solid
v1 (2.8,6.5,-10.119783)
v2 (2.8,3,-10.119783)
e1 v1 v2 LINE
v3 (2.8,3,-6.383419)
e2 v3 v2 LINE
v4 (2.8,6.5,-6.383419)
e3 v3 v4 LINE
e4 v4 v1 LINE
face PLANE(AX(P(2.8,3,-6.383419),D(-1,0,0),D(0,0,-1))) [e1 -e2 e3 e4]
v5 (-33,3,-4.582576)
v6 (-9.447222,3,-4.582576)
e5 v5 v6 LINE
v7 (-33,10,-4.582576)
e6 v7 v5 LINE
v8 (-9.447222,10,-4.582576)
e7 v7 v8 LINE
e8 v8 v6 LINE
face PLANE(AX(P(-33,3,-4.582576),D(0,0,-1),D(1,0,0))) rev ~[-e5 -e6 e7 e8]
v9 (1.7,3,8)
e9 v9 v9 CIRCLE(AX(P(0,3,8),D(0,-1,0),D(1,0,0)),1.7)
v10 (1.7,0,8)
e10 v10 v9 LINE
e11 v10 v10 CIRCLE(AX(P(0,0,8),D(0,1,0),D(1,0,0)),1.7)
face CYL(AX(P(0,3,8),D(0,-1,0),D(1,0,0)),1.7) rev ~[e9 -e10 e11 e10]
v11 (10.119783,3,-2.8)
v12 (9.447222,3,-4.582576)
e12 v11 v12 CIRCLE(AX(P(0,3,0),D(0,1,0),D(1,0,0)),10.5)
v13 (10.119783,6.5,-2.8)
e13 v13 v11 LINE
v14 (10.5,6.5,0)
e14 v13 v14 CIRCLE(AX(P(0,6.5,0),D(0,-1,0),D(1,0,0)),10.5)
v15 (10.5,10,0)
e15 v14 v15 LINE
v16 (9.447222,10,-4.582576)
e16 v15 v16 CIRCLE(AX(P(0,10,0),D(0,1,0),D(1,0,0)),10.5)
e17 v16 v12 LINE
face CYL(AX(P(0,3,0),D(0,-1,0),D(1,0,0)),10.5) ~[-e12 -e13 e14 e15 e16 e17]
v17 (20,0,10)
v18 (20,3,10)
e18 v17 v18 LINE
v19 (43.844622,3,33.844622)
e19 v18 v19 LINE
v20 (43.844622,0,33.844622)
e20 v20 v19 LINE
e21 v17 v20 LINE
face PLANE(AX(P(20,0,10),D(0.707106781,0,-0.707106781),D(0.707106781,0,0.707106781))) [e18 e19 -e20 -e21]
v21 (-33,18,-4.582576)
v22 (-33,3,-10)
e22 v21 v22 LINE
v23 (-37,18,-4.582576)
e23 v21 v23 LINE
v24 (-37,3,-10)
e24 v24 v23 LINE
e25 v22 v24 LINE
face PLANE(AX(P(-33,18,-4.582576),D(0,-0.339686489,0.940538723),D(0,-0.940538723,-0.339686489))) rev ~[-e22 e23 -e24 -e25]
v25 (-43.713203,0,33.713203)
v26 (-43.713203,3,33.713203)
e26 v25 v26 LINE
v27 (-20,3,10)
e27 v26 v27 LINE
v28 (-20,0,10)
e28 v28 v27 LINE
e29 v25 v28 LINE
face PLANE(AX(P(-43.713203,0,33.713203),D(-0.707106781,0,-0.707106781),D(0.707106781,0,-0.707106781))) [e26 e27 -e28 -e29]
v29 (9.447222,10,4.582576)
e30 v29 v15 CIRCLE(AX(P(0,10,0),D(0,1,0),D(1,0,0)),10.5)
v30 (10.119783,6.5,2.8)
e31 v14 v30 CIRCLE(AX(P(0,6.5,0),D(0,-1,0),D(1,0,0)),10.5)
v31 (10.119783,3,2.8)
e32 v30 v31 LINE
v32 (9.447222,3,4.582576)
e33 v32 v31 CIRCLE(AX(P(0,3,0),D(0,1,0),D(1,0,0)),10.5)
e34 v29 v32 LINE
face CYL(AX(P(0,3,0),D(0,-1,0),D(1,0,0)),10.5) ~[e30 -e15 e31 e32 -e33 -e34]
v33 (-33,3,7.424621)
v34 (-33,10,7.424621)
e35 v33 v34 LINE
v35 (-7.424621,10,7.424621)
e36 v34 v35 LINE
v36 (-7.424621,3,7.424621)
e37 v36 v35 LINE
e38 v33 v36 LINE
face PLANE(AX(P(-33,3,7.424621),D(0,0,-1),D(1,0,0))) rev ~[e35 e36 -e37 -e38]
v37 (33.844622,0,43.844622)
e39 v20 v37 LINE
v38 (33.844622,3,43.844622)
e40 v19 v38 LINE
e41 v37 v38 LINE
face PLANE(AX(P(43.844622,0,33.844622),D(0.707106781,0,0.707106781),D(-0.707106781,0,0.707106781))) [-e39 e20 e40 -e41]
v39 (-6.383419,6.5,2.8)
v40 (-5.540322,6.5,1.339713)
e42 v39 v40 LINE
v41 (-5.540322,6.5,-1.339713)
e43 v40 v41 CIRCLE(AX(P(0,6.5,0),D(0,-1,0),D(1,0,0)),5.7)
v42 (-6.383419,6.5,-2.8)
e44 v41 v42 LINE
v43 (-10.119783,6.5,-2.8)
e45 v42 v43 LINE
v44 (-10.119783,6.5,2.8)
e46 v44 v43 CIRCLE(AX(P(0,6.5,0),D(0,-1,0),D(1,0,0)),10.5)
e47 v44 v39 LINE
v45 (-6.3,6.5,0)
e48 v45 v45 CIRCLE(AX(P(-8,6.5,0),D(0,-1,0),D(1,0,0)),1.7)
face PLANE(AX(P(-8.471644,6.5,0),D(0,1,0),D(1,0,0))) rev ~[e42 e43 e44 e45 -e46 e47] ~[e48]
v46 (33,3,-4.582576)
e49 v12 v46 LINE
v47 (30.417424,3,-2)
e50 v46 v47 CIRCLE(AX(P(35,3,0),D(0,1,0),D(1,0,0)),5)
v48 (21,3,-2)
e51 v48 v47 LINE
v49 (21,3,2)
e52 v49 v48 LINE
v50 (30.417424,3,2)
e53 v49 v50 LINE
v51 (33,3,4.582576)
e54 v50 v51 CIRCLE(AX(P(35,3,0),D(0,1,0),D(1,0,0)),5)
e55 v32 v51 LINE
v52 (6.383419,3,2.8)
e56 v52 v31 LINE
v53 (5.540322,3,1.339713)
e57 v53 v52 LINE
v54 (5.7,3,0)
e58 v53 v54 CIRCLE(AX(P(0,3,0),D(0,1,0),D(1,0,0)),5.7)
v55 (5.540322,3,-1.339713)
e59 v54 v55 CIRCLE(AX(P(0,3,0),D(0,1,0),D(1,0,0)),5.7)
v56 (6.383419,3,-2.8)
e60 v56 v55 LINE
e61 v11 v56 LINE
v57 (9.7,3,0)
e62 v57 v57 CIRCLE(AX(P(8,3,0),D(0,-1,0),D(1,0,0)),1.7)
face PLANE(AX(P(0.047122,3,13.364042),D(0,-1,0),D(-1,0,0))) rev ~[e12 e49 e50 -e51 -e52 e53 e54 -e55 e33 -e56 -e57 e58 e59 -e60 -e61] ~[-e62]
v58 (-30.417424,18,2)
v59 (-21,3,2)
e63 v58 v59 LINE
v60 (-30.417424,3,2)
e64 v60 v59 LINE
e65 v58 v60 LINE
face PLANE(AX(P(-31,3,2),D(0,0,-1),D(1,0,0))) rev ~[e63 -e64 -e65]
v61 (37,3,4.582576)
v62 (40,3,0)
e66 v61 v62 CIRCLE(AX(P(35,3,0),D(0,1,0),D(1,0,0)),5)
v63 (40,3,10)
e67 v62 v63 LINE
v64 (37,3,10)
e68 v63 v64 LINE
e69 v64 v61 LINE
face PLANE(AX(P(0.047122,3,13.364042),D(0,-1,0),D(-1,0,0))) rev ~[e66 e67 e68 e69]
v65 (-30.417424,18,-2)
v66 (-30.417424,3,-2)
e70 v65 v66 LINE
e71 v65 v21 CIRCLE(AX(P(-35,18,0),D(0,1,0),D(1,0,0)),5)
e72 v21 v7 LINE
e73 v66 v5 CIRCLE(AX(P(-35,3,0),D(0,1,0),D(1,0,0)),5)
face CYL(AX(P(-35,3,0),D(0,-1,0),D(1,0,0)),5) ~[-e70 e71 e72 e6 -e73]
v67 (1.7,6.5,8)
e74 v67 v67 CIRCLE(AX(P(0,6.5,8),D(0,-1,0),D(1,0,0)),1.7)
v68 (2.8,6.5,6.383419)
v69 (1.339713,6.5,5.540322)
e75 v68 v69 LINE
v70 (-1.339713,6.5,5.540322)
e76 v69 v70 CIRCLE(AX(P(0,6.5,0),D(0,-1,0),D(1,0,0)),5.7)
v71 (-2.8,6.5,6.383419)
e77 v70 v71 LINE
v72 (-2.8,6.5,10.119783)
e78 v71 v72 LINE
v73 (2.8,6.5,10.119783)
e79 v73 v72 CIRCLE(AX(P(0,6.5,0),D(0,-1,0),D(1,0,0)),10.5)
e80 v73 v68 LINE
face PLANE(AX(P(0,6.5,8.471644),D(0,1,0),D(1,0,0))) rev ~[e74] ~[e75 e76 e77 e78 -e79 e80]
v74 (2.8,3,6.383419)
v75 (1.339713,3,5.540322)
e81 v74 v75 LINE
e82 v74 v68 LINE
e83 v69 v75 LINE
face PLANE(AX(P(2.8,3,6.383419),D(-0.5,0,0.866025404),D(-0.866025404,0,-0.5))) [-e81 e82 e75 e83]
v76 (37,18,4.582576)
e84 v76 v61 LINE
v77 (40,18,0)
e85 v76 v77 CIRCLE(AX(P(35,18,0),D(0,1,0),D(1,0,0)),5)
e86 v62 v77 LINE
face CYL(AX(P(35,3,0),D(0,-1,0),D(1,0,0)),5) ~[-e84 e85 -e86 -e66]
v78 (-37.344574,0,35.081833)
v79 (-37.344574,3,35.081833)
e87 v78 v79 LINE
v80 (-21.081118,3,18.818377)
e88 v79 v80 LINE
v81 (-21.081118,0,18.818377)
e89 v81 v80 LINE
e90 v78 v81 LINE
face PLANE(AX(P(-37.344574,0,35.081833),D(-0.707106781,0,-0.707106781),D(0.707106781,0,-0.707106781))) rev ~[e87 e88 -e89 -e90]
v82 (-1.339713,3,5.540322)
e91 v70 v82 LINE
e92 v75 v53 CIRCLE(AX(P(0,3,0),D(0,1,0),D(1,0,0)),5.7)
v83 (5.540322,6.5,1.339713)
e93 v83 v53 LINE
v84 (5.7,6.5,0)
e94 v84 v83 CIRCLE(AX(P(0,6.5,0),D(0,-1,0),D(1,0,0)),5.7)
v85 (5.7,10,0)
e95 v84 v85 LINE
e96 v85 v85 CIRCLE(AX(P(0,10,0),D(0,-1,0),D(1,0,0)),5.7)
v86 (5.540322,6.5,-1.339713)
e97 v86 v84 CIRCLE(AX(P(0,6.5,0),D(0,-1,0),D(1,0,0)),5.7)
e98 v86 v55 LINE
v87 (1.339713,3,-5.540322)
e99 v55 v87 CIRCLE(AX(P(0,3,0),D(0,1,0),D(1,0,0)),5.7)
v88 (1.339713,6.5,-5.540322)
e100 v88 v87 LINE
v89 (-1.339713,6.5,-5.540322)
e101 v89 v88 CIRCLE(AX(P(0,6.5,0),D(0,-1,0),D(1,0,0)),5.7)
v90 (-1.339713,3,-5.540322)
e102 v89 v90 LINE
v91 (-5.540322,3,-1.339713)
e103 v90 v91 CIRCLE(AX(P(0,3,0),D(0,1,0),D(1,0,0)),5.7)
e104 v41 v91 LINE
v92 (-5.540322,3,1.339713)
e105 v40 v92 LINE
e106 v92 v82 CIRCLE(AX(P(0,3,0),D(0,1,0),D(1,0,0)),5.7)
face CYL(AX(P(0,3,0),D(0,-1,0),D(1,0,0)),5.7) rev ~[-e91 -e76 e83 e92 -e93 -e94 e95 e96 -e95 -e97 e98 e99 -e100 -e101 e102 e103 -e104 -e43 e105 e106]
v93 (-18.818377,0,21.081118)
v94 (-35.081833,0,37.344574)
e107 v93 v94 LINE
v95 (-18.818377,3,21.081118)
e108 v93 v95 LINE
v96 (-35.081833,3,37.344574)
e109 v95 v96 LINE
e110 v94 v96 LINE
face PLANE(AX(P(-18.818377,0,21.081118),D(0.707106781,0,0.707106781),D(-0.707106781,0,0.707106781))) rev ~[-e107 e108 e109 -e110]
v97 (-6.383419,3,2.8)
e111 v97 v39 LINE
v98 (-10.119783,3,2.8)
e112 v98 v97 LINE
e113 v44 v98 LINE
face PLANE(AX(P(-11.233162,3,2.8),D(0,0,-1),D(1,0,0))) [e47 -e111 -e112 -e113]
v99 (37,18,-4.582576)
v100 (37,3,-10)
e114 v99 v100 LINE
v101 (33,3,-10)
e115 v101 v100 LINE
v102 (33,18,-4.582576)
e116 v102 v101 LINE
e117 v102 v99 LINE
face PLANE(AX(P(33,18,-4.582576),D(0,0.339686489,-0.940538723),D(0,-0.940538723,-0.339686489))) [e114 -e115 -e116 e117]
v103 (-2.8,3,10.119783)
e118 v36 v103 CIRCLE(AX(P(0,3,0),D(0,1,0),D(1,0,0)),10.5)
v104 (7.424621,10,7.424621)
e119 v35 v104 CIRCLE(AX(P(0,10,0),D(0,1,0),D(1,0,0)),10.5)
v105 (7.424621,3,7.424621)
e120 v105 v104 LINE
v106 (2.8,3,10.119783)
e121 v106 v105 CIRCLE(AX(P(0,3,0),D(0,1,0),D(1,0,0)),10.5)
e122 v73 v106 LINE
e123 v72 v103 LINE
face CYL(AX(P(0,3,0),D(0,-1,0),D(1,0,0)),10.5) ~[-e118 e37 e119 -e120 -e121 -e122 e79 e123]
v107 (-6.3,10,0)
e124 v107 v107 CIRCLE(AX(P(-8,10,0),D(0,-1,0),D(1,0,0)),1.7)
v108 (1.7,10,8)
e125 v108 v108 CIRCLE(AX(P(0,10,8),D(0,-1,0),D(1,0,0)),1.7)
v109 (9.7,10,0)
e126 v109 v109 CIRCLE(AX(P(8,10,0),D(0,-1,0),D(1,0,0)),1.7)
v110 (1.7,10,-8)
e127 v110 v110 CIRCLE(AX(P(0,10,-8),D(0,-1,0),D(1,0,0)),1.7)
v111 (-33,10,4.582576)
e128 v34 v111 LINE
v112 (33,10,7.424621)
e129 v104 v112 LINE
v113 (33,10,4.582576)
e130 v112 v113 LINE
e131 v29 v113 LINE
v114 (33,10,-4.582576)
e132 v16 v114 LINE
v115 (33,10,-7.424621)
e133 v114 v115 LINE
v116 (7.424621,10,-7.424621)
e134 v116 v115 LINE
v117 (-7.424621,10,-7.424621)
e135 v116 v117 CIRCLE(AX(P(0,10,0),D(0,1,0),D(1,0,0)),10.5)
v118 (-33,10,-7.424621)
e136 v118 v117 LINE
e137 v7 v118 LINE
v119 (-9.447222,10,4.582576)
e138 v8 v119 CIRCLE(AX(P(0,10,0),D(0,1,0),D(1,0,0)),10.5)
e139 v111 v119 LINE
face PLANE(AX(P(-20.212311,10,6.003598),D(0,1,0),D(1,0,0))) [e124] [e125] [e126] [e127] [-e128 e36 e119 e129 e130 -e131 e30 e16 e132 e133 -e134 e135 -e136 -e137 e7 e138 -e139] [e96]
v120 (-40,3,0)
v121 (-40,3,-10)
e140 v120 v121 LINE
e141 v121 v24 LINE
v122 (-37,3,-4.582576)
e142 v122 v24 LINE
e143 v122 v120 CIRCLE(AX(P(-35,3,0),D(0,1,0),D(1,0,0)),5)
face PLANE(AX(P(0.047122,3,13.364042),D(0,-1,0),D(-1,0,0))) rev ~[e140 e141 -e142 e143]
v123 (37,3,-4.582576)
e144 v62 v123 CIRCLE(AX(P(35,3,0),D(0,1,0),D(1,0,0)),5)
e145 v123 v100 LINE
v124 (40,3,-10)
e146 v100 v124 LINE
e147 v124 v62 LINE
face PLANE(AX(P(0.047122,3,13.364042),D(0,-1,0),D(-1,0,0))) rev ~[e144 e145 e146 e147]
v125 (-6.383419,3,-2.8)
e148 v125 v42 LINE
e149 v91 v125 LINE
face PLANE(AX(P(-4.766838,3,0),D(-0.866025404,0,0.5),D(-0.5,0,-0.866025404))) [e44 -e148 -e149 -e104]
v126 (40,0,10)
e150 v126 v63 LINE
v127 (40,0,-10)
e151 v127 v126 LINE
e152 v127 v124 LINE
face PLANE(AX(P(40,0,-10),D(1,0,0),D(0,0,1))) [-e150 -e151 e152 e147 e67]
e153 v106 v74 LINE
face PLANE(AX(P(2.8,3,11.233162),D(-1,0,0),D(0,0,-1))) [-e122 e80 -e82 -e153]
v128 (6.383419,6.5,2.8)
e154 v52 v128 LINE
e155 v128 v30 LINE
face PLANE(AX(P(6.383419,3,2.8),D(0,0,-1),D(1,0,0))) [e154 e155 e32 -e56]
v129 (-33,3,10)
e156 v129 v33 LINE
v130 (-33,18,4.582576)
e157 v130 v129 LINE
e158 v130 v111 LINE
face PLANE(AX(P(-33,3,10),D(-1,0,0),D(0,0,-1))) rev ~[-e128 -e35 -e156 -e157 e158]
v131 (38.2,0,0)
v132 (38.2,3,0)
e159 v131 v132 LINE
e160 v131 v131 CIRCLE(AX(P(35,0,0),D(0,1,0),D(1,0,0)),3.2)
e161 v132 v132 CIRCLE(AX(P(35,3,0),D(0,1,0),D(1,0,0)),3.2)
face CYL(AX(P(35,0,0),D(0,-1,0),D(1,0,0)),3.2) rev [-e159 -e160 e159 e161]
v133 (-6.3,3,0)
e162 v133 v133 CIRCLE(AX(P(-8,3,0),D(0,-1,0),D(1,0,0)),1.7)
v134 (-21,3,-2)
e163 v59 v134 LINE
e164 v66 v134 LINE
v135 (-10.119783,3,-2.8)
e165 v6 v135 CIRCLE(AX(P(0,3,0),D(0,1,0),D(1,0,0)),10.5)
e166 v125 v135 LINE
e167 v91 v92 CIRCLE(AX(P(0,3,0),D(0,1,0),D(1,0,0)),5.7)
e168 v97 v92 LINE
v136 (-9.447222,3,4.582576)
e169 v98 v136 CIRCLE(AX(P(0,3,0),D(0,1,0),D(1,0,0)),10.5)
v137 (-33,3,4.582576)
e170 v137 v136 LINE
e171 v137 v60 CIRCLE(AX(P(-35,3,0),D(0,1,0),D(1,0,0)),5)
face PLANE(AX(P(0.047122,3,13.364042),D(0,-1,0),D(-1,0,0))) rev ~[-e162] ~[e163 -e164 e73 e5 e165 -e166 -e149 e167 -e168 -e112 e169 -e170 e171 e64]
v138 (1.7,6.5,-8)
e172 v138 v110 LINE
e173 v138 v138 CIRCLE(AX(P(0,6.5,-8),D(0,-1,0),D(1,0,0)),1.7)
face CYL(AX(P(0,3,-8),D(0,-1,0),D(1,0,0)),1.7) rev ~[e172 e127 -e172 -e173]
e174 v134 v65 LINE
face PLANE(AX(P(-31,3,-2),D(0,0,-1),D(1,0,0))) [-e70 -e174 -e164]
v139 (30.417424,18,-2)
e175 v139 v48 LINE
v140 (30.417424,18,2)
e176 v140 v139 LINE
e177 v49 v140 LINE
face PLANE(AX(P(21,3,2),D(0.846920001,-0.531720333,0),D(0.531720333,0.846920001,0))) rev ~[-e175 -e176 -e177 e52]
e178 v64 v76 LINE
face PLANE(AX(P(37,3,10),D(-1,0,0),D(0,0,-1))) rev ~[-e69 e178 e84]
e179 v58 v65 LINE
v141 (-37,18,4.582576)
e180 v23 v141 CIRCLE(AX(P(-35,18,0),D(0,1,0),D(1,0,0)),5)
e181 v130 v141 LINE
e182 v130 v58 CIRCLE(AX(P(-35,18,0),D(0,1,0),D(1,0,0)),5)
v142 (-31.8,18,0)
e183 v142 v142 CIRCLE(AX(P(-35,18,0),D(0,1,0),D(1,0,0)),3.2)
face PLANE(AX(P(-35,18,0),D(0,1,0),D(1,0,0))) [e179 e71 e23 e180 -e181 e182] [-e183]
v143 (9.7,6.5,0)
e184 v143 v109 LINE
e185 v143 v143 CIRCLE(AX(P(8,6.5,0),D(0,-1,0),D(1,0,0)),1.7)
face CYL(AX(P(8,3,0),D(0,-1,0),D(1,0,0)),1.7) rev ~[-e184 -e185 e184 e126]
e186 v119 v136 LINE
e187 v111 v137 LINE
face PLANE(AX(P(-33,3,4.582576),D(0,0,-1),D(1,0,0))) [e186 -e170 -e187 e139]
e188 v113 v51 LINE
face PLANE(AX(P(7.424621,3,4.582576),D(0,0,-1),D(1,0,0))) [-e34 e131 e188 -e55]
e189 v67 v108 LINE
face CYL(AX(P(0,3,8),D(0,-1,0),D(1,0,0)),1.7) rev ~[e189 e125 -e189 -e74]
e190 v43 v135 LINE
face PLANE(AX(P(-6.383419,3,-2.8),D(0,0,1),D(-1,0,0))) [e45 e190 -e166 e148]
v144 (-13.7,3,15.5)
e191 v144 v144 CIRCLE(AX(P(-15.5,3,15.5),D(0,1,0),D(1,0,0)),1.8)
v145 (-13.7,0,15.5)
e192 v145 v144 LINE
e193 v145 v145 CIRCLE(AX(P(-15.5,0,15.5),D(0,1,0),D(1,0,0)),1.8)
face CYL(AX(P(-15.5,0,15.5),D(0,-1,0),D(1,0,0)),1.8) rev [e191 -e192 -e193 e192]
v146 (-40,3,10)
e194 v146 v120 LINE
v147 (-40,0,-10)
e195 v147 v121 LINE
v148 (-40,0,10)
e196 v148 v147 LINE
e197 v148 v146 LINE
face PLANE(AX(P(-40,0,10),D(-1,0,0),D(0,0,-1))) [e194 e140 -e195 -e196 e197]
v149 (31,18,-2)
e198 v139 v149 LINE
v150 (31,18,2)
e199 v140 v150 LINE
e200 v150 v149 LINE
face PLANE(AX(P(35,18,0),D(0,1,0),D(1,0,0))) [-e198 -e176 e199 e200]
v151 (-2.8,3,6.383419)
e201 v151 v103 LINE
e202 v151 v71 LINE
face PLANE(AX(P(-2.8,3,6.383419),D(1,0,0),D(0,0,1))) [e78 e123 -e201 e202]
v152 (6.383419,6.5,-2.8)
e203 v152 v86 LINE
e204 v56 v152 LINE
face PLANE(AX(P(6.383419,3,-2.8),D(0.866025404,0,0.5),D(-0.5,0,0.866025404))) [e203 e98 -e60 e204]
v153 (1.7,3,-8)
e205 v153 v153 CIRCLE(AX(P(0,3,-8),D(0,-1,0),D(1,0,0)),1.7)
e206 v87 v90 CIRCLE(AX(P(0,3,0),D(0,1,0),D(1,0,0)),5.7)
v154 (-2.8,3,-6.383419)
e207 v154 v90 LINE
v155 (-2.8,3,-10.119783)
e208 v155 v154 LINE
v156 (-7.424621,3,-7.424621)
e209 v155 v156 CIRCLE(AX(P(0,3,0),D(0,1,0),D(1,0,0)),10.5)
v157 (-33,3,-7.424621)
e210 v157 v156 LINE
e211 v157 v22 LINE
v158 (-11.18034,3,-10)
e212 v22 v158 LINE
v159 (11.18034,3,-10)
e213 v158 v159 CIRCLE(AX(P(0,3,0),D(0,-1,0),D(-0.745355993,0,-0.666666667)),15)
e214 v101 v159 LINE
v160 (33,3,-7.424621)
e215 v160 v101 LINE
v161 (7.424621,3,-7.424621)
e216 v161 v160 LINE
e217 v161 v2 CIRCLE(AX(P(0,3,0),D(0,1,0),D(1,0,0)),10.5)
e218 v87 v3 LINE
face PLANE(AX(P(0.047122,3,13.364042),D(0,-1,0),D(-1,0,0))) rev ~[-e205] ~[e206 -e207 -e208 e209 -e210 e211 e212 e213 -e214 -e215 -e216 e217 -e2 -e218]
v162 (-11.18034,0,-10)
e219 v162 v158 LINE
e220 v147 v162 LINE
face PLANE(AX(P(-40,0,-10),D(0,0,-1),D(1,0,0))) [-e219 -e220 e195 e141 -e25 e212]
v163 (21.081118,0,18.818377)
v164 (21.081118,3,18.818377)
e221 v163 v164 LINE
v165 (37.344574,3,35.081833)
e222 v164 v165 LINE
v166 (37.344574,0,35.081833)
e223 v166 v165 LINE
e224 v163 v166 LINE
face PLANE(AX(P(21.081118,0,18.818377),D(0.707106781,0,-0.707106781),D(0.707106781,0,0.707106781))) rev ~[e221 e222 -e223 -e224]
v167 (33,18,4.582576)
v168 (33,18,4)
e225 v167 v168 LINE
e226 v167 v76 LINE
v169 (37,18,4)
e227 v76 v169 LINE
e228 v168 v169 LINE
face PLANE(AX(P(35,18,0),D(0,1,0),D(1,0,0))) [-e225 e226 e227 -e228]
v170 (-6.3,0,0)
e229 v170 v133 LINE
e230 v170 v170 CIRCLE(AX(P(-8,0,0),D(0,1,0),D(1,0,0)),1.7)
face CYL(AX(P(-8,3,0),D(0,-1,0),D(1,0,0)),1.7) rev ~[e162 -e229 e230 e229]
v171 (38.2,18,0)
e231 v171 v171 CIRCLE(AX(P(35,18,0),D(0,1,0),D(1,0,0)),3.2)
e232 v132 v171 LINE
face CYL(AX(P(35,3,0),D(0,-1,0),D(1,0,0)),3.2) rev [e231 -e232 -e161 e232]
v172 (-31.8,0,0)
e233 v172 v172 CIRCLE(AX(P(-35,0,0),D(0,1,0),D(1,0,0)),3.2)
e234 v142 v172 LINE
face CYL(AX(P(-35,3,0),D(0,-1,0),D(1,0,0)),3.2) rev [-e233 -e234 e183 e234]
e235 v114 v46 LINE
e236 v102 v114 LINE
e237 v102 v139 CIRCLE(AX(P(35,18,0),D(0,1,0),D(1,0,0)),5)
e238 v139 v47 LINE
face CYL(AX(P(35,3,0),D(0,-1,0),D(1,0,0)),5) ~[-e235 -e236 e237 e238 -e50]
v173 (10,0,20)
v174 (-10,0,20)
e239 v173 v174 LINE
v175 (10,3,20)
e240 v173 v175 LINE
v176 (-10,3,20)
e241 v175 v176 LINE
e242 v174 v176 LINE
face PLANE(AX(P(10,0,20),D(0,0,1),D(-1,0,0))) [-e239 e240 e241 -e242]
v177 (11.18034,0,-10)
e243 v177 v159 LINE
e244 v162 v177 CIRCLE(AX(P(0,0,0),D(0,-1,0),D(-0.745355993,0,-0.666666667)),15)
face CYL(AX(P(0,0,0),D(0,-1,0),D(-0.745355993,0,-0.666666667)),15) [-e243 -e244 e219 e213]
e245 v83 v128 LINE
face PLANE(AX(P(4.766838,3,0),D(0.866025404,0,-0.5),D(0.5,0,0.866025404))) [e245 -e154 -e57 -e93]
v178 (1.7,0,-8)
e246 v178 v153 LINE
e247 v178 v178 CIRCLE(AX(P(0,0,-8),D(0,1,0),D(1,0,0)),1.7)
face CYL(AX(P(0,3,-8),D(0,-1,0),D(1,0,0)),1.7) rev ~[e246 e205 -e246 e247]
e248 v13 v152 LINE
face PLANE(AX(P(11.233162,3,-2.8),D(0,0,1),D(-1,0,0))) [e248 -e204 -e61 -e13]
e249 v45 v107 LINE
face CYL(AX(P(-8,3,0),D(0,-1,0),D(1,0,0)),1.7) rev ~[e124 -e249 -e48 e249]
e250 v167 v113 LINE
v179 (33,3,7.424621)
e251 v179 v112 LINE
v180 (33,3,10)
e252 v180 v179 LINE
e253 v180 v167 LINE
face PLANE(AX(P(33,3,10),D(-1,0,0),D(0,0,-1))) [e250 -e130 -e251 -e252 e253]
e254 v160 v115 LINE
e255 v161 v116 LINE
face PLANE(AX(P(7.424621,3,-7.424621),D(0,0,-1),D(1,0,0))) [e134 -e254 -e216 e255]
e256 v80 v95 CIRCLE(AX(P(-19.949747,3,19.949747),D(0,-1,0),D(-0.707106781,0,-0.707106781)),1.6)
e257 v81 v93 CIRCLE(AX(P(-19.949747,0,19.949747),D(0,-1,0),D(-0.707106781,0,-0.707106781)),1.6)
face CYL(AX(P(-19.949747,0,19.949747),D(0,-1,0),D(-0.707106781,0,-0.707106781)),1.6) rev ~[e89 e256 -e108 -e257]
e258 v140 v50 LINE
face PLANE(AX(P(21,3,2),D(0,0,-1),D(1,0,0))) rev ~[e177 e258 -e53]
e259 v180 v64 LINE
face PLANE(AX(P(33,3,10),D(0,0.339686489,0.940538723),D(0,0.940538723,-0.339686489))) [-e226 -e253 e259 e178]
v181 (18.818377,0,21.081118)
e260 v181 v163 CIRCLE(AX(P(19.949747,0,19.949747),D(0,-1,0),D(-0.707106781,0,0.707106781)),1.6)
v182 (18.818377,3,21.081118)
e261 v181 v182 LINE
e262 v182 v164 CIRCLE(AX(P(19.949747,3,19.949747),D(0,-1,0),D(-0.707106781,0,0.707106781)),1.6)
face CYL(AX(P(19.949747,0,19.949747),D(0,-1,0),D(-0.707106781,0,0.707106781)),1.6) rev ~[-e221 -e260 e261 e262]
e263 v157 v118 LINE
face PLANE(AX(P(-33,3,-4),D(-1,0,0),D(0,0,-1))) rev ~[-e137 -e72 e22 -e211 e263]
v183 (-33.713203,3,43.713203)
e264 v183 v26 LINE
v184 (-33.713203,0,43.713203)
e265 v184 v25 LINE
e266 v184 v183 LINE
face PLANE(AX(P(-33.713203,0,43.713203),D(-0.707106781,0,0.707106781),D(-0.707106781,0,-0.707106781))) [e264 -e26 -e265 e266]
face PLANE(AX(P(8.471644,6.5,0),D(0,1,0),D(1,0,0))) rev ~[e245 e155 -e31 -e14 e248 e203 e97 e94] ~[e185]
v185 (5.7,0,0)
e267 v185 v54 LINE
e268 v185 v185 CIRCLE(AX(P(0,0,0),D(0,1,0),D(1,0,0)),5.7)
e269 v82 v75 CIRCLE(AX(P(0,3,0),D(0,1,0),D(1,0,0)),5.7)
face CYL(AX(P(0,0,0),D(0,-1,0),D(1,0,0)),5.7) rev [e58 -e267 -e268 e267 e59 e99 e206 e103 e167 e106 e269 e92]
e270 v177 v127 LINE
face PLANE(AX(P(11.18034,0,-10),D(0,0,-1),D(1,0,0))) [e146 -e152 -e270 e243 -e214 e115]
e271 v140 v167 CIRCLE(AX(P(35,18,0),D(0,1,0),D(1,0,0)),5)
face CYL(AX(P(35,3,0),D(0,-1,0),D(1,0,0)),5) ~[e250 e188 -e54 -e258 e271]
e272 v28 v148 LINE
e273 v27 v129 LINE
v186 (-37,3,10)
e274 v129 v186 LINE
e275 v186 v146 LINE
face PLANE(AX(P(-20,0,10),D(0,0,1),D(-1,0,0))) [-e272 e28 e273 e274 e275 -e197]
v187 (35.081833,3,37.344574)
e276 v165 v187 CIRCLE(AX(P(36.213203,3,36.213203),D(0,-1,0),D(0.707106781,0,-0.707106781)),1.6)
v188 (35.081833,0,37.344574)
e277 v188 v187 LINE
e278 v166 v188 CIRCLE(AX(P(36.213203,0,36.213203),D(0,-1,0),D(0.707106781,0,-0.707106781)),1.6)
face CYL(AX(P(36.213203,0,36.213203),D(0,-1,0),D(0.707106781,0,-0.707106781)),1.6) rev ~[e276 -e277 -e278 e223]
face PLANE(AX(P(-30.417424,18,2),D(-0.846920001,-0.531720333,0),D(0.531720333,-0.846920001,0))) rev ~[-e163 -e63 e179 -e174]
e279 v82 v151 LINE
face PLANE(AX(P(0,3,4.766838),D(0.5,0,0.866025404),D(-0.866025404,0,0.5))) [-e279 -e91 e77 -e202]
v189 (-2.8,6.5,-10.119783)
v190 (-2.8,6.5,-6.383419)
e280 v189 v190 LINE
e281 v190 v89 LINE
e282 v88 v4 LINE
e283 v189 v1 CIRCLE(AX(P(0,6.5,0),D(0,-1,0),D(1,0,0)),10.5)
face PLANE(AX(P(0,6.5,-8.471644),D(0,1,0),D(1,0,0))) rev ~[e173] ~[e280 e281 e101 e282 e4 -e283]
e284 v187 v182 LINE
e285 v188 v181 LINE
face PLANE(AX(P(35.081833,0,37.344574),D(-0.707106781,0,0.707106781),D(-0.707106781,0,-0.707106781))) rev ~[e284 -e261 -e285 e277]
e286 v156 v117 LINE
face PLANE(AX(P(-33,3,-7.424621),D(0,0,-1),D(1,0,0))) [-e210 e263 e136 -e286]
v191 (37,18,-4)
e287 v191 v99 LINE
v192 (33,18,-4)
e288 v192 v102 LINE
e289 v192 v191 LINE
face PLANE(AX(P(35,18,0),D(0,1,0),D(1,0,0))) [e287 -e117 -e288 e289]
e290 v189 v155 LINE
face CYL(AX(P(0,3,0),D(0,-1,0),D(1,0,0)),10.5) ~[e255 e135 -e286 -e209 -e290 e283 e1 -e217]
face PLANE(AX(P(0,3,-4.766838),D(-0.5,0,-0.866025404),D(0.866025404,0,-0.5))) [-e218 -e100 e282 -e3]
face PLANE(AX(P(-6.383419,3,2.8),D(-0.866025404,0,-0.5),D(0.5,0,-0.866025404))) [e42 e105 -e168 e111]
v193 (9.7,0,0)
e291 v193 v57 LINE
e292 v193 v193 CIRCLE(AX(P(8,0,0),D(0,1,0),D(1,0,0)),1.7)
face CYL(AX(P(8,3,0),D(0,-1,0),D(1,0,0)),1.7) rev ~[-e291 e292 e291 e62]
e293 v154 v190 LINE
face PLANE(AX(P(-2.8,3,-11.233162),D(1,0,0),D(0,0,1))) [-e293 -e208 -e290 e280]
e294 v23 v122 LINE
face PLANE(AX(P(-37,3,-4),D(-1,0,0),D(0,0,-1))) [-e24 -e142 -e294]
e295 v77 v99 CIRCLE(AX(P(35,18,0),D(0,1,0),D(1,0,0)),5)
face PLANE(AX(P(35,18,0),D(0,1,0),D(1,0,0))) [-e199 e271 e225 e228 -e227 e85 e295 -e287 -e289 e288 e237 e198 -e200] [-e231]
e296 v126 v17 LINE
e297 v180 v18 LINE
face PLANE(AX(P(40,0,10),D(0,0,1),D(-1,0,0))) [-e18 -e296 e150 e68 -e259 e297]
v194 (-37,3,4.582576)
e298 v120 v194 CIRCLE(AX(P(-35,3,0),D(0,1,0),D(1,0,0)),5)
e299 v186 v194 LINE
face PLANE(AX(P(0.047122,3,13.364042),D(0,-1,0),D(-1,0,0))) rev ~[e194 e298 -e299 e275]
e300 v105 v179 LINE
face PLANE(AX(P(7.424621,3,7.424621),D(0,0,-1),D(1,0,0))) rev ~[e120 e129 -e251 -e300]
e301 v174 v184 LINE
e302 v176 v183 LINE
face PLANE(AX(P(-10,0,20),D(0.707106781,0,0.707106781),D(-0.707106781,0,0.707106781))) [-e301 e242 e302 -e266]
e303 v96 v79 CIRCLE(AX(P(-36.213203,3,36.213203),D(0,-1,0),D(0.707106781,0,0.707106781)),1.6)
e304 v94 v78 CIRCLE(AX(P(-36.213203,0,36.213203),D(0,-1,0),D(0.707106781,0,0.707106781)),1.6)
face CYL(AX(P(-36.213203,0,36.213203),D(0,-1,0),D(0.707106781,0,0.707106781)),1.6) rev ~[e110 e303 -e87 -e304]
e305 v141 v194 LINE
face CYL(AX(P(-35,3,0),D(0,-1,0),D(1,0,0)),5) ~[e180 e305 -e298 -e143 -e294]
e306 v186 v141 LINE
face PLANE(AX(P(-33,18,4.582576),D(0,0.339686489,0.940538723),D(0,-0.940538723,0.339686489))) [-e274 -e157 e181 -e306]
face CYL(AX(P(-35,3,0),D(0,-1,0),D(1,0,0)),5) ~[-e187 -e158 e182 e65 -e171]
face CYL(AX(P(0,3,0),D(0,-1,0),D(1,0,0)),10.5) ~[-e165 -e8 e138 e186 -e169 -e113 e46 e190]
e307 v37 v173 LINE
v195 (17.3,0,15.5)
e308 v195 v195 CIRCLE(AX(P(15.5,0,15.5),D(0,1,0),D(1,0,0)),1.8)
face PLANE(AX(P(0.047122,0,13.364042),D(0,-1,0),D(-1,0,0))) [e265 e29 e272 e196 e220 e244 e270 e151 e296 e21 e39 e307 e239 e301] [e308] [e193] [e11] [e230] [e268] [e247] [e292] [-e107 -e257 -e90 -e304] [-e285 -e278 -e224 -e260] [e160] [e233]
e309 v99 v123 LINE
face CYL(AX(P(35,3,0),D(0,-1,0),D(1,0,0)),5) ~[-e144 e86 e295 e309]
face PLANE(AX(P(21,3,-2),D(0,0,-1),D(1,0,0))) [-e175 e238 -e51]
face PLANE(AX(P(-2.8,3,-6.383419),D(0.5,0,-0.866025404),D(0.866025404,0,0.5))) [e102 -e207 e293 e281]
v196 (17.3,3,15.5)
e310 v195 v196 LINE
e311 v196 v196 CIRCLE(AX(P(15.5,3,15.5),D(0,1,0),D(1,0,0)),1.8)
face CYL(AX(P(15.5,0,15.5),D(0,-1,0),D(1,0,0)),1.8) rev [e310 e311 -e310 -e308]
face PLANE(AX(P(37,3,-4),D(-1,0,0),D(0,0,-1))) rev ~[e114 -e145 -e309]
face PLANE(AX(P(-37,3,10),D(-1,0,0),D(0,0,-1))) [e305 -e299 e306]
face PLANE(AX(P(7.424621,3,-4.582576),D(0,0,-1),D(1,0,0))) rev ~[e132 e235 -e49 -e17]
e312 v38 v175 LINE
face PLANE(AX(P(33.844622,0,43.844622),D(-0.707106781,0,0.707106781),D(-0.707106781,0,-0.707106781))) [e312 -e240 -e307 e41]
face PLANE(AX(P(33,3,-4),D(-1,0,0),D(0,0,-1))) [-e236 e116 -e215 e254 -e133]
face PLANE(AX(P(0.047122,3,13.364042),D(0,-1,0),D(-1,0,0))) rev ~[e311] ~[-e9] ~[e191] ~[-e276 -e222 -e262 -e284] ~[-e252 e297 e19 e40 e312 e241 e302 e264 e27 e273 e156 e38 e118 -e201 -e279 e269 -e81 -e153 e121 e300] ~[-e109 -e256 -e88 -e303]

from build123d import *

# Parameters (mm, degrees)
SKETCH_1_R          = 3.2
SKETCH_1_R_2        = 1.8
SKETCH_1_R_3        = 5.7
SKETCH_1_R_4        = 1.7
EXTRUDE_1_DEPTH     = 3
SKETCH_2_R          = 10.5
EXTRUDE_2_DEPTH     = 7
SKETCH_4_R          = 1.7
CUT_EXTRUDE_1_DEPTH = 7
CUT_EXTRUDE_2_DEPTH = 3.5
SKETCH_6_R          = 5.7
CUT_EXTRUDE_3_DEPTH = 20
SKETCH_7_R          = 5
SKETCH_7_R_2        = 3.2
EXTRUDE_3_DEPTH     = 15
SKETCH_8_W          = 10
SKETCH_8_H          = 4
SKETCH_8_W_2        = 4
SKETCH_8_H_2        = 6
EXTRUDE_4_DEPTH     = 15
CUT_EXTRUDE_4_DEPTH = 15
CUT_EXTRUDE_5_DEPTH = 15
CUT_EXTRUDE_6_DEPTH = 15
SKETCH_12_W         = 25.575378798
SKETCH_12_H         = 2.842045507
EXTRUDE_5_DEPTH     = 7


with BuildPart() as part:
    # 草图1 → 凸台-拉伸1 (new body)
    with BuildSketch(Plane(origin=(0, 0, 0), x_dir=(1, 0, 0), z_dir=(0, 1, 0))):
        with BuildLine():
            Line((-35.081832586, -10), (-40, -10))
            Line((-40, -10), (-40, 10))
            Line((-40, 10), (-11.180339887, 10))
            ThreePointArc((-11.180339887, 10), (0, 15), (11.180339887, 10))
            Line((11.180339887, 10), (40, 10))
            Line((40, 10), (40, -10))
            Line((40, -10), (20, -10))
            Line((20, -10), (43.844622395, -33.844622395))
            Line((43.844622395, -33.844622395), (33.844622395, -43.844622395))
            Line((33.844622395, -43.844622395), (10, -20))
            Line((10, -20), (-10, -20))
            Line((-10, -20), (-33.713203436, -43.713203436))
            Line((-33.713203436, -43.713203436), (-43.713203436, -33.713203436))
            Line((-43.713203436, -33.713203436), (-20, -10))
            Line((-20, -10), (-35.081832586, -10))
        make_face()
        with Locations((35, 0)):
            Circle(SKETCH_1_R, mode=Mode.SUBTRACT)
        with Locations((-15.5, -15.5)):
            Circle(SKETCH_1_R_2, mode=Mode.SUBTRACT)
        with Locations((15.5, -15.5)):
            Circle(SKETCH_1_R_2, mode=Mode.SUBTRACT)
        with Locations((-35, 0)):
            Circle(SKETCH_1_R, mode=Mode.SUBTRACT)
        Circle(SKETCH_1_R_3, mode=Mode.SUBTRACT)
        with Locations((-8, 0)):
            Circle(SKETCH_1_R_4, mode=Mode.SUBTRACT)
        with Locations((0, 8)):
            Circle(SKETCH_1_R_4, mode=Mode.SUBTRACT)
        with Locations((8, 0)):
            Circle(SKETCH_1_R_4, mode=Mode.SUBTRACT)
        with Locations((0, -8)):
            Circle(SKETCH_1_R_4, mode=Mode.SUBTRACT)
        with BuildLine():
            Line((-18.818376618, -21.081118318), (-35.081832586, -37.344574285))
            ThreePointArc((-35.081832586, -37.344574285), (-37.344574285, -37.344574285), (-37.344574285, -35.081832586))
            Line((-37.344574285, -35.081832586), (-21.081118318, -18.818376618))
            ThreePointArc((-21.081118318, -18.818376618), (-18.818376618, -18.818376618), (-18.818376618, -21.081118318))
        make_face(mode=Mode.SUBTRACT)
        with BuildLine():
            Line((21.081118316, -18.818376616), (37.344574284, -35.081832584))
            ThreePointArc((37.344574284, -35.081832584), (37.344574284, -37.344574284), (35.081832584, -37.344574284))
            Line((35.081832584, -37.344574284), (18.818376616, -21.081118316))
            ThreePointArc((18.818376616, -21.081118316), (18.818376616, -18.818376616), (21.081118316, -18.818376616))
        make_face(mode=Mode.SUBTRACT)
    extrude(amount=EXTRUDE_1_DEPTH)

    # 草图2 → 凸台-拉伸2 (add)
    with BuildSketch(Plane(origin=(0, 3, 0), x_dir=(1, 0, 0), z_dir=(0, 1, 0))):
        Circle(SKETCH_2_R)
    extrude(amount=EXTRUDE_2_DEPTH)

    # 草图4 → 切除-拉伸1 (cut)
    with BuildSketch(Plane.XZ.offset(-3)):
        with Locations((0, -8)):
            Circle(SKETCH_4_R)
        with Locations((-8, 0)):
            Circle(SKETCH_4_R)
        with Locations((8, 0)):
            Circle(SKETCH_4_R)
        with Locations((0, 8)):
            Circle(SKETCH_4_R)
    extrude(amount=-CUT_EXTRUDE_1_DEPTH, mode=Mode.SUBTRACT)

    # 草图5 → 切除-拉伸2 (cut)
    with BuildSketch(Plane(origin=(0, 3, 0), x_dir=(1, 0, 0), z_dir=(0, 1, 0))):
        Polygon((-4.766838493, 0), (-6.383419246, 2.8), (-11.233161507, 2.8), (-11.233161507, -2.8), (-6.383419246, -2.8), align=None)
        Polygon((4.766838493, 0), (6.383419246, -2.8), (11.233161507, -2.8), (11.233161507, 2.8), (6.383419246, 2.8), align=None)
        Polygon((-2.8, 11.233161507), (-2.8, 6.383419246), (0, 4.766838493), (2.8, 6.383419246), (2.8, 11.233161507), align=None)
        Polygon((0, -4.766838493), (-2.8, -6.383419246), (-2.8, -11.233161507), (2.8, -11.233161507), (2.8, -6.383419246), align=None)
    extrude(amount=CUT_EXTRUDE_2_DEPTH, mode=Mode.SUBTRACT)

    # 草图6 → 切除-拉伸3 (cut)
    with BuildSketch(Plane.XZ.offset(-3)):
        Circle(SKETCH_6_R)
    extrude(amount=-CUT_EXTRUDE_3_DEPTH, mode=Mode.SUBTRACT)

    # 草图7 → 凸台-拉伸3 (add)
    with BuildSketch(Plane(origin=(0, 3, 0), x_dir=(1, 0, 0), z_dir=(0, 1, 0))):
        with Locations((-35, 0)):
            Circle(SKETCH_7_R)
        with Locations((-35, 0)):
            Circle(SKETCH_7_R_2, mode=Mode.SUBTRACT)
        with Locations((35, 0)):
            Circle(SKETCH_7_R)
        with Locations((35, 0)):
            Circle(SKETCH_7_R_2, mode=Mode.SUBTRACT)
    extrude(amount=EXTRUDE_3_DEPTH)

    # 草图8 → 凸台-拉伸4 (add)
    with BuildSketch(Plane(origin=(0, 3, 0), x_dir=(1, 0, 0), z_dir=(0, 1, 0))):
        with Locations((-26, 0)):
            Rectangle(SKETCH_8_W, SKETCH_8_H)
        with Locations((-35, 7)):
            Rectangle(SKETCH_8_W_2, SKETCH_8_H_2)
        with Locations((-35, -7)):
            Rectangle(SKETCH_8_W_2, SKETCH_8_H_2)
        with Locations((26, 0)):
            Rectangle(SKETCH_8_W, SKETCH_8_H)
        with Locations((35, 7)):
            Rectangle(SKETCH_8_W_2, SKETCH_8_H_2)
        with Locations((35, -7)):
            Rectangle(SKETCH_8_W_2, SKETCH_8_H_2)
    extrude(amount=EXTRUDE_4_DEPTH)

    # 草图9 → 切除-拉伸4 (cut)
    with BuildSketch(Plane.XY.offset(2)):
        Polygon((-30.417424305, 18), (-21, 3), (-21, 18), align=None)
        Polygon((21, 3), (30.417424305, 18), (21, 18), align=None)
    extrude(amount=-CUT_EXTRUDE_4_DEPTH, mode=Mode.SUBTRACT)

    # 草图10 → 切除-拉伸5 (cut)
    with BuildSketch(Plane.ZY.offset(-33)):
        Polygon((-4.582575695, 18), (-10, 3), (-10, 18), align=None)
        Polygon((4.582575695, 18), (10, 18), (10, 3), align=None)
    extrude(amount=-CUT_EXTRUDE_5_DEPTH, mode=Mode.SUBTRACT)

    # 草图11 → 切除-拉伸6 (cut)
    with BuildSketch(Plane(origin=(-33, 0, 0), x_dir=(0, 0, -1), z_dir=(1, 0, 0))):
        Polygon((-4.582575695, 18), (-10, 3), (-10, 18), align=None)
        Polygon((4.582575695, 18), (10, 3), (10, 18), align=None)
    extrude(amount=-CUT_EXTRUDE_6_DEPTH, mode=Mode.SUBTRACT)

    # 草图12 → 凸台-拉伸5 (add)
    with BuildSketch(Plane(origin=(0, 3, 0), x_dir=(1, 0, 0), z_dir=(0, 1, 0))):
        with Locations((-20.212310601, -6.003598449)):
            Rectangle(SKETCH_12_W, SKETCH_12_H)
        with Locations((-20.212310601, 6.003598449)):
            Rectangle(SKETCH_12_W, SKETCH_12_H)
        with Locations((20.212310601, 6.003598449)):
            Rectangle(SKETCH_12_W, SKETCH_12_H)
        with Locations((20.212310601, -6.003598449)):
            Rectangle(SKETCH_12_W, SKETCH_12_H)
    extrude(amount=EXTRUDE_5_DEPTH)


solid = part.part
